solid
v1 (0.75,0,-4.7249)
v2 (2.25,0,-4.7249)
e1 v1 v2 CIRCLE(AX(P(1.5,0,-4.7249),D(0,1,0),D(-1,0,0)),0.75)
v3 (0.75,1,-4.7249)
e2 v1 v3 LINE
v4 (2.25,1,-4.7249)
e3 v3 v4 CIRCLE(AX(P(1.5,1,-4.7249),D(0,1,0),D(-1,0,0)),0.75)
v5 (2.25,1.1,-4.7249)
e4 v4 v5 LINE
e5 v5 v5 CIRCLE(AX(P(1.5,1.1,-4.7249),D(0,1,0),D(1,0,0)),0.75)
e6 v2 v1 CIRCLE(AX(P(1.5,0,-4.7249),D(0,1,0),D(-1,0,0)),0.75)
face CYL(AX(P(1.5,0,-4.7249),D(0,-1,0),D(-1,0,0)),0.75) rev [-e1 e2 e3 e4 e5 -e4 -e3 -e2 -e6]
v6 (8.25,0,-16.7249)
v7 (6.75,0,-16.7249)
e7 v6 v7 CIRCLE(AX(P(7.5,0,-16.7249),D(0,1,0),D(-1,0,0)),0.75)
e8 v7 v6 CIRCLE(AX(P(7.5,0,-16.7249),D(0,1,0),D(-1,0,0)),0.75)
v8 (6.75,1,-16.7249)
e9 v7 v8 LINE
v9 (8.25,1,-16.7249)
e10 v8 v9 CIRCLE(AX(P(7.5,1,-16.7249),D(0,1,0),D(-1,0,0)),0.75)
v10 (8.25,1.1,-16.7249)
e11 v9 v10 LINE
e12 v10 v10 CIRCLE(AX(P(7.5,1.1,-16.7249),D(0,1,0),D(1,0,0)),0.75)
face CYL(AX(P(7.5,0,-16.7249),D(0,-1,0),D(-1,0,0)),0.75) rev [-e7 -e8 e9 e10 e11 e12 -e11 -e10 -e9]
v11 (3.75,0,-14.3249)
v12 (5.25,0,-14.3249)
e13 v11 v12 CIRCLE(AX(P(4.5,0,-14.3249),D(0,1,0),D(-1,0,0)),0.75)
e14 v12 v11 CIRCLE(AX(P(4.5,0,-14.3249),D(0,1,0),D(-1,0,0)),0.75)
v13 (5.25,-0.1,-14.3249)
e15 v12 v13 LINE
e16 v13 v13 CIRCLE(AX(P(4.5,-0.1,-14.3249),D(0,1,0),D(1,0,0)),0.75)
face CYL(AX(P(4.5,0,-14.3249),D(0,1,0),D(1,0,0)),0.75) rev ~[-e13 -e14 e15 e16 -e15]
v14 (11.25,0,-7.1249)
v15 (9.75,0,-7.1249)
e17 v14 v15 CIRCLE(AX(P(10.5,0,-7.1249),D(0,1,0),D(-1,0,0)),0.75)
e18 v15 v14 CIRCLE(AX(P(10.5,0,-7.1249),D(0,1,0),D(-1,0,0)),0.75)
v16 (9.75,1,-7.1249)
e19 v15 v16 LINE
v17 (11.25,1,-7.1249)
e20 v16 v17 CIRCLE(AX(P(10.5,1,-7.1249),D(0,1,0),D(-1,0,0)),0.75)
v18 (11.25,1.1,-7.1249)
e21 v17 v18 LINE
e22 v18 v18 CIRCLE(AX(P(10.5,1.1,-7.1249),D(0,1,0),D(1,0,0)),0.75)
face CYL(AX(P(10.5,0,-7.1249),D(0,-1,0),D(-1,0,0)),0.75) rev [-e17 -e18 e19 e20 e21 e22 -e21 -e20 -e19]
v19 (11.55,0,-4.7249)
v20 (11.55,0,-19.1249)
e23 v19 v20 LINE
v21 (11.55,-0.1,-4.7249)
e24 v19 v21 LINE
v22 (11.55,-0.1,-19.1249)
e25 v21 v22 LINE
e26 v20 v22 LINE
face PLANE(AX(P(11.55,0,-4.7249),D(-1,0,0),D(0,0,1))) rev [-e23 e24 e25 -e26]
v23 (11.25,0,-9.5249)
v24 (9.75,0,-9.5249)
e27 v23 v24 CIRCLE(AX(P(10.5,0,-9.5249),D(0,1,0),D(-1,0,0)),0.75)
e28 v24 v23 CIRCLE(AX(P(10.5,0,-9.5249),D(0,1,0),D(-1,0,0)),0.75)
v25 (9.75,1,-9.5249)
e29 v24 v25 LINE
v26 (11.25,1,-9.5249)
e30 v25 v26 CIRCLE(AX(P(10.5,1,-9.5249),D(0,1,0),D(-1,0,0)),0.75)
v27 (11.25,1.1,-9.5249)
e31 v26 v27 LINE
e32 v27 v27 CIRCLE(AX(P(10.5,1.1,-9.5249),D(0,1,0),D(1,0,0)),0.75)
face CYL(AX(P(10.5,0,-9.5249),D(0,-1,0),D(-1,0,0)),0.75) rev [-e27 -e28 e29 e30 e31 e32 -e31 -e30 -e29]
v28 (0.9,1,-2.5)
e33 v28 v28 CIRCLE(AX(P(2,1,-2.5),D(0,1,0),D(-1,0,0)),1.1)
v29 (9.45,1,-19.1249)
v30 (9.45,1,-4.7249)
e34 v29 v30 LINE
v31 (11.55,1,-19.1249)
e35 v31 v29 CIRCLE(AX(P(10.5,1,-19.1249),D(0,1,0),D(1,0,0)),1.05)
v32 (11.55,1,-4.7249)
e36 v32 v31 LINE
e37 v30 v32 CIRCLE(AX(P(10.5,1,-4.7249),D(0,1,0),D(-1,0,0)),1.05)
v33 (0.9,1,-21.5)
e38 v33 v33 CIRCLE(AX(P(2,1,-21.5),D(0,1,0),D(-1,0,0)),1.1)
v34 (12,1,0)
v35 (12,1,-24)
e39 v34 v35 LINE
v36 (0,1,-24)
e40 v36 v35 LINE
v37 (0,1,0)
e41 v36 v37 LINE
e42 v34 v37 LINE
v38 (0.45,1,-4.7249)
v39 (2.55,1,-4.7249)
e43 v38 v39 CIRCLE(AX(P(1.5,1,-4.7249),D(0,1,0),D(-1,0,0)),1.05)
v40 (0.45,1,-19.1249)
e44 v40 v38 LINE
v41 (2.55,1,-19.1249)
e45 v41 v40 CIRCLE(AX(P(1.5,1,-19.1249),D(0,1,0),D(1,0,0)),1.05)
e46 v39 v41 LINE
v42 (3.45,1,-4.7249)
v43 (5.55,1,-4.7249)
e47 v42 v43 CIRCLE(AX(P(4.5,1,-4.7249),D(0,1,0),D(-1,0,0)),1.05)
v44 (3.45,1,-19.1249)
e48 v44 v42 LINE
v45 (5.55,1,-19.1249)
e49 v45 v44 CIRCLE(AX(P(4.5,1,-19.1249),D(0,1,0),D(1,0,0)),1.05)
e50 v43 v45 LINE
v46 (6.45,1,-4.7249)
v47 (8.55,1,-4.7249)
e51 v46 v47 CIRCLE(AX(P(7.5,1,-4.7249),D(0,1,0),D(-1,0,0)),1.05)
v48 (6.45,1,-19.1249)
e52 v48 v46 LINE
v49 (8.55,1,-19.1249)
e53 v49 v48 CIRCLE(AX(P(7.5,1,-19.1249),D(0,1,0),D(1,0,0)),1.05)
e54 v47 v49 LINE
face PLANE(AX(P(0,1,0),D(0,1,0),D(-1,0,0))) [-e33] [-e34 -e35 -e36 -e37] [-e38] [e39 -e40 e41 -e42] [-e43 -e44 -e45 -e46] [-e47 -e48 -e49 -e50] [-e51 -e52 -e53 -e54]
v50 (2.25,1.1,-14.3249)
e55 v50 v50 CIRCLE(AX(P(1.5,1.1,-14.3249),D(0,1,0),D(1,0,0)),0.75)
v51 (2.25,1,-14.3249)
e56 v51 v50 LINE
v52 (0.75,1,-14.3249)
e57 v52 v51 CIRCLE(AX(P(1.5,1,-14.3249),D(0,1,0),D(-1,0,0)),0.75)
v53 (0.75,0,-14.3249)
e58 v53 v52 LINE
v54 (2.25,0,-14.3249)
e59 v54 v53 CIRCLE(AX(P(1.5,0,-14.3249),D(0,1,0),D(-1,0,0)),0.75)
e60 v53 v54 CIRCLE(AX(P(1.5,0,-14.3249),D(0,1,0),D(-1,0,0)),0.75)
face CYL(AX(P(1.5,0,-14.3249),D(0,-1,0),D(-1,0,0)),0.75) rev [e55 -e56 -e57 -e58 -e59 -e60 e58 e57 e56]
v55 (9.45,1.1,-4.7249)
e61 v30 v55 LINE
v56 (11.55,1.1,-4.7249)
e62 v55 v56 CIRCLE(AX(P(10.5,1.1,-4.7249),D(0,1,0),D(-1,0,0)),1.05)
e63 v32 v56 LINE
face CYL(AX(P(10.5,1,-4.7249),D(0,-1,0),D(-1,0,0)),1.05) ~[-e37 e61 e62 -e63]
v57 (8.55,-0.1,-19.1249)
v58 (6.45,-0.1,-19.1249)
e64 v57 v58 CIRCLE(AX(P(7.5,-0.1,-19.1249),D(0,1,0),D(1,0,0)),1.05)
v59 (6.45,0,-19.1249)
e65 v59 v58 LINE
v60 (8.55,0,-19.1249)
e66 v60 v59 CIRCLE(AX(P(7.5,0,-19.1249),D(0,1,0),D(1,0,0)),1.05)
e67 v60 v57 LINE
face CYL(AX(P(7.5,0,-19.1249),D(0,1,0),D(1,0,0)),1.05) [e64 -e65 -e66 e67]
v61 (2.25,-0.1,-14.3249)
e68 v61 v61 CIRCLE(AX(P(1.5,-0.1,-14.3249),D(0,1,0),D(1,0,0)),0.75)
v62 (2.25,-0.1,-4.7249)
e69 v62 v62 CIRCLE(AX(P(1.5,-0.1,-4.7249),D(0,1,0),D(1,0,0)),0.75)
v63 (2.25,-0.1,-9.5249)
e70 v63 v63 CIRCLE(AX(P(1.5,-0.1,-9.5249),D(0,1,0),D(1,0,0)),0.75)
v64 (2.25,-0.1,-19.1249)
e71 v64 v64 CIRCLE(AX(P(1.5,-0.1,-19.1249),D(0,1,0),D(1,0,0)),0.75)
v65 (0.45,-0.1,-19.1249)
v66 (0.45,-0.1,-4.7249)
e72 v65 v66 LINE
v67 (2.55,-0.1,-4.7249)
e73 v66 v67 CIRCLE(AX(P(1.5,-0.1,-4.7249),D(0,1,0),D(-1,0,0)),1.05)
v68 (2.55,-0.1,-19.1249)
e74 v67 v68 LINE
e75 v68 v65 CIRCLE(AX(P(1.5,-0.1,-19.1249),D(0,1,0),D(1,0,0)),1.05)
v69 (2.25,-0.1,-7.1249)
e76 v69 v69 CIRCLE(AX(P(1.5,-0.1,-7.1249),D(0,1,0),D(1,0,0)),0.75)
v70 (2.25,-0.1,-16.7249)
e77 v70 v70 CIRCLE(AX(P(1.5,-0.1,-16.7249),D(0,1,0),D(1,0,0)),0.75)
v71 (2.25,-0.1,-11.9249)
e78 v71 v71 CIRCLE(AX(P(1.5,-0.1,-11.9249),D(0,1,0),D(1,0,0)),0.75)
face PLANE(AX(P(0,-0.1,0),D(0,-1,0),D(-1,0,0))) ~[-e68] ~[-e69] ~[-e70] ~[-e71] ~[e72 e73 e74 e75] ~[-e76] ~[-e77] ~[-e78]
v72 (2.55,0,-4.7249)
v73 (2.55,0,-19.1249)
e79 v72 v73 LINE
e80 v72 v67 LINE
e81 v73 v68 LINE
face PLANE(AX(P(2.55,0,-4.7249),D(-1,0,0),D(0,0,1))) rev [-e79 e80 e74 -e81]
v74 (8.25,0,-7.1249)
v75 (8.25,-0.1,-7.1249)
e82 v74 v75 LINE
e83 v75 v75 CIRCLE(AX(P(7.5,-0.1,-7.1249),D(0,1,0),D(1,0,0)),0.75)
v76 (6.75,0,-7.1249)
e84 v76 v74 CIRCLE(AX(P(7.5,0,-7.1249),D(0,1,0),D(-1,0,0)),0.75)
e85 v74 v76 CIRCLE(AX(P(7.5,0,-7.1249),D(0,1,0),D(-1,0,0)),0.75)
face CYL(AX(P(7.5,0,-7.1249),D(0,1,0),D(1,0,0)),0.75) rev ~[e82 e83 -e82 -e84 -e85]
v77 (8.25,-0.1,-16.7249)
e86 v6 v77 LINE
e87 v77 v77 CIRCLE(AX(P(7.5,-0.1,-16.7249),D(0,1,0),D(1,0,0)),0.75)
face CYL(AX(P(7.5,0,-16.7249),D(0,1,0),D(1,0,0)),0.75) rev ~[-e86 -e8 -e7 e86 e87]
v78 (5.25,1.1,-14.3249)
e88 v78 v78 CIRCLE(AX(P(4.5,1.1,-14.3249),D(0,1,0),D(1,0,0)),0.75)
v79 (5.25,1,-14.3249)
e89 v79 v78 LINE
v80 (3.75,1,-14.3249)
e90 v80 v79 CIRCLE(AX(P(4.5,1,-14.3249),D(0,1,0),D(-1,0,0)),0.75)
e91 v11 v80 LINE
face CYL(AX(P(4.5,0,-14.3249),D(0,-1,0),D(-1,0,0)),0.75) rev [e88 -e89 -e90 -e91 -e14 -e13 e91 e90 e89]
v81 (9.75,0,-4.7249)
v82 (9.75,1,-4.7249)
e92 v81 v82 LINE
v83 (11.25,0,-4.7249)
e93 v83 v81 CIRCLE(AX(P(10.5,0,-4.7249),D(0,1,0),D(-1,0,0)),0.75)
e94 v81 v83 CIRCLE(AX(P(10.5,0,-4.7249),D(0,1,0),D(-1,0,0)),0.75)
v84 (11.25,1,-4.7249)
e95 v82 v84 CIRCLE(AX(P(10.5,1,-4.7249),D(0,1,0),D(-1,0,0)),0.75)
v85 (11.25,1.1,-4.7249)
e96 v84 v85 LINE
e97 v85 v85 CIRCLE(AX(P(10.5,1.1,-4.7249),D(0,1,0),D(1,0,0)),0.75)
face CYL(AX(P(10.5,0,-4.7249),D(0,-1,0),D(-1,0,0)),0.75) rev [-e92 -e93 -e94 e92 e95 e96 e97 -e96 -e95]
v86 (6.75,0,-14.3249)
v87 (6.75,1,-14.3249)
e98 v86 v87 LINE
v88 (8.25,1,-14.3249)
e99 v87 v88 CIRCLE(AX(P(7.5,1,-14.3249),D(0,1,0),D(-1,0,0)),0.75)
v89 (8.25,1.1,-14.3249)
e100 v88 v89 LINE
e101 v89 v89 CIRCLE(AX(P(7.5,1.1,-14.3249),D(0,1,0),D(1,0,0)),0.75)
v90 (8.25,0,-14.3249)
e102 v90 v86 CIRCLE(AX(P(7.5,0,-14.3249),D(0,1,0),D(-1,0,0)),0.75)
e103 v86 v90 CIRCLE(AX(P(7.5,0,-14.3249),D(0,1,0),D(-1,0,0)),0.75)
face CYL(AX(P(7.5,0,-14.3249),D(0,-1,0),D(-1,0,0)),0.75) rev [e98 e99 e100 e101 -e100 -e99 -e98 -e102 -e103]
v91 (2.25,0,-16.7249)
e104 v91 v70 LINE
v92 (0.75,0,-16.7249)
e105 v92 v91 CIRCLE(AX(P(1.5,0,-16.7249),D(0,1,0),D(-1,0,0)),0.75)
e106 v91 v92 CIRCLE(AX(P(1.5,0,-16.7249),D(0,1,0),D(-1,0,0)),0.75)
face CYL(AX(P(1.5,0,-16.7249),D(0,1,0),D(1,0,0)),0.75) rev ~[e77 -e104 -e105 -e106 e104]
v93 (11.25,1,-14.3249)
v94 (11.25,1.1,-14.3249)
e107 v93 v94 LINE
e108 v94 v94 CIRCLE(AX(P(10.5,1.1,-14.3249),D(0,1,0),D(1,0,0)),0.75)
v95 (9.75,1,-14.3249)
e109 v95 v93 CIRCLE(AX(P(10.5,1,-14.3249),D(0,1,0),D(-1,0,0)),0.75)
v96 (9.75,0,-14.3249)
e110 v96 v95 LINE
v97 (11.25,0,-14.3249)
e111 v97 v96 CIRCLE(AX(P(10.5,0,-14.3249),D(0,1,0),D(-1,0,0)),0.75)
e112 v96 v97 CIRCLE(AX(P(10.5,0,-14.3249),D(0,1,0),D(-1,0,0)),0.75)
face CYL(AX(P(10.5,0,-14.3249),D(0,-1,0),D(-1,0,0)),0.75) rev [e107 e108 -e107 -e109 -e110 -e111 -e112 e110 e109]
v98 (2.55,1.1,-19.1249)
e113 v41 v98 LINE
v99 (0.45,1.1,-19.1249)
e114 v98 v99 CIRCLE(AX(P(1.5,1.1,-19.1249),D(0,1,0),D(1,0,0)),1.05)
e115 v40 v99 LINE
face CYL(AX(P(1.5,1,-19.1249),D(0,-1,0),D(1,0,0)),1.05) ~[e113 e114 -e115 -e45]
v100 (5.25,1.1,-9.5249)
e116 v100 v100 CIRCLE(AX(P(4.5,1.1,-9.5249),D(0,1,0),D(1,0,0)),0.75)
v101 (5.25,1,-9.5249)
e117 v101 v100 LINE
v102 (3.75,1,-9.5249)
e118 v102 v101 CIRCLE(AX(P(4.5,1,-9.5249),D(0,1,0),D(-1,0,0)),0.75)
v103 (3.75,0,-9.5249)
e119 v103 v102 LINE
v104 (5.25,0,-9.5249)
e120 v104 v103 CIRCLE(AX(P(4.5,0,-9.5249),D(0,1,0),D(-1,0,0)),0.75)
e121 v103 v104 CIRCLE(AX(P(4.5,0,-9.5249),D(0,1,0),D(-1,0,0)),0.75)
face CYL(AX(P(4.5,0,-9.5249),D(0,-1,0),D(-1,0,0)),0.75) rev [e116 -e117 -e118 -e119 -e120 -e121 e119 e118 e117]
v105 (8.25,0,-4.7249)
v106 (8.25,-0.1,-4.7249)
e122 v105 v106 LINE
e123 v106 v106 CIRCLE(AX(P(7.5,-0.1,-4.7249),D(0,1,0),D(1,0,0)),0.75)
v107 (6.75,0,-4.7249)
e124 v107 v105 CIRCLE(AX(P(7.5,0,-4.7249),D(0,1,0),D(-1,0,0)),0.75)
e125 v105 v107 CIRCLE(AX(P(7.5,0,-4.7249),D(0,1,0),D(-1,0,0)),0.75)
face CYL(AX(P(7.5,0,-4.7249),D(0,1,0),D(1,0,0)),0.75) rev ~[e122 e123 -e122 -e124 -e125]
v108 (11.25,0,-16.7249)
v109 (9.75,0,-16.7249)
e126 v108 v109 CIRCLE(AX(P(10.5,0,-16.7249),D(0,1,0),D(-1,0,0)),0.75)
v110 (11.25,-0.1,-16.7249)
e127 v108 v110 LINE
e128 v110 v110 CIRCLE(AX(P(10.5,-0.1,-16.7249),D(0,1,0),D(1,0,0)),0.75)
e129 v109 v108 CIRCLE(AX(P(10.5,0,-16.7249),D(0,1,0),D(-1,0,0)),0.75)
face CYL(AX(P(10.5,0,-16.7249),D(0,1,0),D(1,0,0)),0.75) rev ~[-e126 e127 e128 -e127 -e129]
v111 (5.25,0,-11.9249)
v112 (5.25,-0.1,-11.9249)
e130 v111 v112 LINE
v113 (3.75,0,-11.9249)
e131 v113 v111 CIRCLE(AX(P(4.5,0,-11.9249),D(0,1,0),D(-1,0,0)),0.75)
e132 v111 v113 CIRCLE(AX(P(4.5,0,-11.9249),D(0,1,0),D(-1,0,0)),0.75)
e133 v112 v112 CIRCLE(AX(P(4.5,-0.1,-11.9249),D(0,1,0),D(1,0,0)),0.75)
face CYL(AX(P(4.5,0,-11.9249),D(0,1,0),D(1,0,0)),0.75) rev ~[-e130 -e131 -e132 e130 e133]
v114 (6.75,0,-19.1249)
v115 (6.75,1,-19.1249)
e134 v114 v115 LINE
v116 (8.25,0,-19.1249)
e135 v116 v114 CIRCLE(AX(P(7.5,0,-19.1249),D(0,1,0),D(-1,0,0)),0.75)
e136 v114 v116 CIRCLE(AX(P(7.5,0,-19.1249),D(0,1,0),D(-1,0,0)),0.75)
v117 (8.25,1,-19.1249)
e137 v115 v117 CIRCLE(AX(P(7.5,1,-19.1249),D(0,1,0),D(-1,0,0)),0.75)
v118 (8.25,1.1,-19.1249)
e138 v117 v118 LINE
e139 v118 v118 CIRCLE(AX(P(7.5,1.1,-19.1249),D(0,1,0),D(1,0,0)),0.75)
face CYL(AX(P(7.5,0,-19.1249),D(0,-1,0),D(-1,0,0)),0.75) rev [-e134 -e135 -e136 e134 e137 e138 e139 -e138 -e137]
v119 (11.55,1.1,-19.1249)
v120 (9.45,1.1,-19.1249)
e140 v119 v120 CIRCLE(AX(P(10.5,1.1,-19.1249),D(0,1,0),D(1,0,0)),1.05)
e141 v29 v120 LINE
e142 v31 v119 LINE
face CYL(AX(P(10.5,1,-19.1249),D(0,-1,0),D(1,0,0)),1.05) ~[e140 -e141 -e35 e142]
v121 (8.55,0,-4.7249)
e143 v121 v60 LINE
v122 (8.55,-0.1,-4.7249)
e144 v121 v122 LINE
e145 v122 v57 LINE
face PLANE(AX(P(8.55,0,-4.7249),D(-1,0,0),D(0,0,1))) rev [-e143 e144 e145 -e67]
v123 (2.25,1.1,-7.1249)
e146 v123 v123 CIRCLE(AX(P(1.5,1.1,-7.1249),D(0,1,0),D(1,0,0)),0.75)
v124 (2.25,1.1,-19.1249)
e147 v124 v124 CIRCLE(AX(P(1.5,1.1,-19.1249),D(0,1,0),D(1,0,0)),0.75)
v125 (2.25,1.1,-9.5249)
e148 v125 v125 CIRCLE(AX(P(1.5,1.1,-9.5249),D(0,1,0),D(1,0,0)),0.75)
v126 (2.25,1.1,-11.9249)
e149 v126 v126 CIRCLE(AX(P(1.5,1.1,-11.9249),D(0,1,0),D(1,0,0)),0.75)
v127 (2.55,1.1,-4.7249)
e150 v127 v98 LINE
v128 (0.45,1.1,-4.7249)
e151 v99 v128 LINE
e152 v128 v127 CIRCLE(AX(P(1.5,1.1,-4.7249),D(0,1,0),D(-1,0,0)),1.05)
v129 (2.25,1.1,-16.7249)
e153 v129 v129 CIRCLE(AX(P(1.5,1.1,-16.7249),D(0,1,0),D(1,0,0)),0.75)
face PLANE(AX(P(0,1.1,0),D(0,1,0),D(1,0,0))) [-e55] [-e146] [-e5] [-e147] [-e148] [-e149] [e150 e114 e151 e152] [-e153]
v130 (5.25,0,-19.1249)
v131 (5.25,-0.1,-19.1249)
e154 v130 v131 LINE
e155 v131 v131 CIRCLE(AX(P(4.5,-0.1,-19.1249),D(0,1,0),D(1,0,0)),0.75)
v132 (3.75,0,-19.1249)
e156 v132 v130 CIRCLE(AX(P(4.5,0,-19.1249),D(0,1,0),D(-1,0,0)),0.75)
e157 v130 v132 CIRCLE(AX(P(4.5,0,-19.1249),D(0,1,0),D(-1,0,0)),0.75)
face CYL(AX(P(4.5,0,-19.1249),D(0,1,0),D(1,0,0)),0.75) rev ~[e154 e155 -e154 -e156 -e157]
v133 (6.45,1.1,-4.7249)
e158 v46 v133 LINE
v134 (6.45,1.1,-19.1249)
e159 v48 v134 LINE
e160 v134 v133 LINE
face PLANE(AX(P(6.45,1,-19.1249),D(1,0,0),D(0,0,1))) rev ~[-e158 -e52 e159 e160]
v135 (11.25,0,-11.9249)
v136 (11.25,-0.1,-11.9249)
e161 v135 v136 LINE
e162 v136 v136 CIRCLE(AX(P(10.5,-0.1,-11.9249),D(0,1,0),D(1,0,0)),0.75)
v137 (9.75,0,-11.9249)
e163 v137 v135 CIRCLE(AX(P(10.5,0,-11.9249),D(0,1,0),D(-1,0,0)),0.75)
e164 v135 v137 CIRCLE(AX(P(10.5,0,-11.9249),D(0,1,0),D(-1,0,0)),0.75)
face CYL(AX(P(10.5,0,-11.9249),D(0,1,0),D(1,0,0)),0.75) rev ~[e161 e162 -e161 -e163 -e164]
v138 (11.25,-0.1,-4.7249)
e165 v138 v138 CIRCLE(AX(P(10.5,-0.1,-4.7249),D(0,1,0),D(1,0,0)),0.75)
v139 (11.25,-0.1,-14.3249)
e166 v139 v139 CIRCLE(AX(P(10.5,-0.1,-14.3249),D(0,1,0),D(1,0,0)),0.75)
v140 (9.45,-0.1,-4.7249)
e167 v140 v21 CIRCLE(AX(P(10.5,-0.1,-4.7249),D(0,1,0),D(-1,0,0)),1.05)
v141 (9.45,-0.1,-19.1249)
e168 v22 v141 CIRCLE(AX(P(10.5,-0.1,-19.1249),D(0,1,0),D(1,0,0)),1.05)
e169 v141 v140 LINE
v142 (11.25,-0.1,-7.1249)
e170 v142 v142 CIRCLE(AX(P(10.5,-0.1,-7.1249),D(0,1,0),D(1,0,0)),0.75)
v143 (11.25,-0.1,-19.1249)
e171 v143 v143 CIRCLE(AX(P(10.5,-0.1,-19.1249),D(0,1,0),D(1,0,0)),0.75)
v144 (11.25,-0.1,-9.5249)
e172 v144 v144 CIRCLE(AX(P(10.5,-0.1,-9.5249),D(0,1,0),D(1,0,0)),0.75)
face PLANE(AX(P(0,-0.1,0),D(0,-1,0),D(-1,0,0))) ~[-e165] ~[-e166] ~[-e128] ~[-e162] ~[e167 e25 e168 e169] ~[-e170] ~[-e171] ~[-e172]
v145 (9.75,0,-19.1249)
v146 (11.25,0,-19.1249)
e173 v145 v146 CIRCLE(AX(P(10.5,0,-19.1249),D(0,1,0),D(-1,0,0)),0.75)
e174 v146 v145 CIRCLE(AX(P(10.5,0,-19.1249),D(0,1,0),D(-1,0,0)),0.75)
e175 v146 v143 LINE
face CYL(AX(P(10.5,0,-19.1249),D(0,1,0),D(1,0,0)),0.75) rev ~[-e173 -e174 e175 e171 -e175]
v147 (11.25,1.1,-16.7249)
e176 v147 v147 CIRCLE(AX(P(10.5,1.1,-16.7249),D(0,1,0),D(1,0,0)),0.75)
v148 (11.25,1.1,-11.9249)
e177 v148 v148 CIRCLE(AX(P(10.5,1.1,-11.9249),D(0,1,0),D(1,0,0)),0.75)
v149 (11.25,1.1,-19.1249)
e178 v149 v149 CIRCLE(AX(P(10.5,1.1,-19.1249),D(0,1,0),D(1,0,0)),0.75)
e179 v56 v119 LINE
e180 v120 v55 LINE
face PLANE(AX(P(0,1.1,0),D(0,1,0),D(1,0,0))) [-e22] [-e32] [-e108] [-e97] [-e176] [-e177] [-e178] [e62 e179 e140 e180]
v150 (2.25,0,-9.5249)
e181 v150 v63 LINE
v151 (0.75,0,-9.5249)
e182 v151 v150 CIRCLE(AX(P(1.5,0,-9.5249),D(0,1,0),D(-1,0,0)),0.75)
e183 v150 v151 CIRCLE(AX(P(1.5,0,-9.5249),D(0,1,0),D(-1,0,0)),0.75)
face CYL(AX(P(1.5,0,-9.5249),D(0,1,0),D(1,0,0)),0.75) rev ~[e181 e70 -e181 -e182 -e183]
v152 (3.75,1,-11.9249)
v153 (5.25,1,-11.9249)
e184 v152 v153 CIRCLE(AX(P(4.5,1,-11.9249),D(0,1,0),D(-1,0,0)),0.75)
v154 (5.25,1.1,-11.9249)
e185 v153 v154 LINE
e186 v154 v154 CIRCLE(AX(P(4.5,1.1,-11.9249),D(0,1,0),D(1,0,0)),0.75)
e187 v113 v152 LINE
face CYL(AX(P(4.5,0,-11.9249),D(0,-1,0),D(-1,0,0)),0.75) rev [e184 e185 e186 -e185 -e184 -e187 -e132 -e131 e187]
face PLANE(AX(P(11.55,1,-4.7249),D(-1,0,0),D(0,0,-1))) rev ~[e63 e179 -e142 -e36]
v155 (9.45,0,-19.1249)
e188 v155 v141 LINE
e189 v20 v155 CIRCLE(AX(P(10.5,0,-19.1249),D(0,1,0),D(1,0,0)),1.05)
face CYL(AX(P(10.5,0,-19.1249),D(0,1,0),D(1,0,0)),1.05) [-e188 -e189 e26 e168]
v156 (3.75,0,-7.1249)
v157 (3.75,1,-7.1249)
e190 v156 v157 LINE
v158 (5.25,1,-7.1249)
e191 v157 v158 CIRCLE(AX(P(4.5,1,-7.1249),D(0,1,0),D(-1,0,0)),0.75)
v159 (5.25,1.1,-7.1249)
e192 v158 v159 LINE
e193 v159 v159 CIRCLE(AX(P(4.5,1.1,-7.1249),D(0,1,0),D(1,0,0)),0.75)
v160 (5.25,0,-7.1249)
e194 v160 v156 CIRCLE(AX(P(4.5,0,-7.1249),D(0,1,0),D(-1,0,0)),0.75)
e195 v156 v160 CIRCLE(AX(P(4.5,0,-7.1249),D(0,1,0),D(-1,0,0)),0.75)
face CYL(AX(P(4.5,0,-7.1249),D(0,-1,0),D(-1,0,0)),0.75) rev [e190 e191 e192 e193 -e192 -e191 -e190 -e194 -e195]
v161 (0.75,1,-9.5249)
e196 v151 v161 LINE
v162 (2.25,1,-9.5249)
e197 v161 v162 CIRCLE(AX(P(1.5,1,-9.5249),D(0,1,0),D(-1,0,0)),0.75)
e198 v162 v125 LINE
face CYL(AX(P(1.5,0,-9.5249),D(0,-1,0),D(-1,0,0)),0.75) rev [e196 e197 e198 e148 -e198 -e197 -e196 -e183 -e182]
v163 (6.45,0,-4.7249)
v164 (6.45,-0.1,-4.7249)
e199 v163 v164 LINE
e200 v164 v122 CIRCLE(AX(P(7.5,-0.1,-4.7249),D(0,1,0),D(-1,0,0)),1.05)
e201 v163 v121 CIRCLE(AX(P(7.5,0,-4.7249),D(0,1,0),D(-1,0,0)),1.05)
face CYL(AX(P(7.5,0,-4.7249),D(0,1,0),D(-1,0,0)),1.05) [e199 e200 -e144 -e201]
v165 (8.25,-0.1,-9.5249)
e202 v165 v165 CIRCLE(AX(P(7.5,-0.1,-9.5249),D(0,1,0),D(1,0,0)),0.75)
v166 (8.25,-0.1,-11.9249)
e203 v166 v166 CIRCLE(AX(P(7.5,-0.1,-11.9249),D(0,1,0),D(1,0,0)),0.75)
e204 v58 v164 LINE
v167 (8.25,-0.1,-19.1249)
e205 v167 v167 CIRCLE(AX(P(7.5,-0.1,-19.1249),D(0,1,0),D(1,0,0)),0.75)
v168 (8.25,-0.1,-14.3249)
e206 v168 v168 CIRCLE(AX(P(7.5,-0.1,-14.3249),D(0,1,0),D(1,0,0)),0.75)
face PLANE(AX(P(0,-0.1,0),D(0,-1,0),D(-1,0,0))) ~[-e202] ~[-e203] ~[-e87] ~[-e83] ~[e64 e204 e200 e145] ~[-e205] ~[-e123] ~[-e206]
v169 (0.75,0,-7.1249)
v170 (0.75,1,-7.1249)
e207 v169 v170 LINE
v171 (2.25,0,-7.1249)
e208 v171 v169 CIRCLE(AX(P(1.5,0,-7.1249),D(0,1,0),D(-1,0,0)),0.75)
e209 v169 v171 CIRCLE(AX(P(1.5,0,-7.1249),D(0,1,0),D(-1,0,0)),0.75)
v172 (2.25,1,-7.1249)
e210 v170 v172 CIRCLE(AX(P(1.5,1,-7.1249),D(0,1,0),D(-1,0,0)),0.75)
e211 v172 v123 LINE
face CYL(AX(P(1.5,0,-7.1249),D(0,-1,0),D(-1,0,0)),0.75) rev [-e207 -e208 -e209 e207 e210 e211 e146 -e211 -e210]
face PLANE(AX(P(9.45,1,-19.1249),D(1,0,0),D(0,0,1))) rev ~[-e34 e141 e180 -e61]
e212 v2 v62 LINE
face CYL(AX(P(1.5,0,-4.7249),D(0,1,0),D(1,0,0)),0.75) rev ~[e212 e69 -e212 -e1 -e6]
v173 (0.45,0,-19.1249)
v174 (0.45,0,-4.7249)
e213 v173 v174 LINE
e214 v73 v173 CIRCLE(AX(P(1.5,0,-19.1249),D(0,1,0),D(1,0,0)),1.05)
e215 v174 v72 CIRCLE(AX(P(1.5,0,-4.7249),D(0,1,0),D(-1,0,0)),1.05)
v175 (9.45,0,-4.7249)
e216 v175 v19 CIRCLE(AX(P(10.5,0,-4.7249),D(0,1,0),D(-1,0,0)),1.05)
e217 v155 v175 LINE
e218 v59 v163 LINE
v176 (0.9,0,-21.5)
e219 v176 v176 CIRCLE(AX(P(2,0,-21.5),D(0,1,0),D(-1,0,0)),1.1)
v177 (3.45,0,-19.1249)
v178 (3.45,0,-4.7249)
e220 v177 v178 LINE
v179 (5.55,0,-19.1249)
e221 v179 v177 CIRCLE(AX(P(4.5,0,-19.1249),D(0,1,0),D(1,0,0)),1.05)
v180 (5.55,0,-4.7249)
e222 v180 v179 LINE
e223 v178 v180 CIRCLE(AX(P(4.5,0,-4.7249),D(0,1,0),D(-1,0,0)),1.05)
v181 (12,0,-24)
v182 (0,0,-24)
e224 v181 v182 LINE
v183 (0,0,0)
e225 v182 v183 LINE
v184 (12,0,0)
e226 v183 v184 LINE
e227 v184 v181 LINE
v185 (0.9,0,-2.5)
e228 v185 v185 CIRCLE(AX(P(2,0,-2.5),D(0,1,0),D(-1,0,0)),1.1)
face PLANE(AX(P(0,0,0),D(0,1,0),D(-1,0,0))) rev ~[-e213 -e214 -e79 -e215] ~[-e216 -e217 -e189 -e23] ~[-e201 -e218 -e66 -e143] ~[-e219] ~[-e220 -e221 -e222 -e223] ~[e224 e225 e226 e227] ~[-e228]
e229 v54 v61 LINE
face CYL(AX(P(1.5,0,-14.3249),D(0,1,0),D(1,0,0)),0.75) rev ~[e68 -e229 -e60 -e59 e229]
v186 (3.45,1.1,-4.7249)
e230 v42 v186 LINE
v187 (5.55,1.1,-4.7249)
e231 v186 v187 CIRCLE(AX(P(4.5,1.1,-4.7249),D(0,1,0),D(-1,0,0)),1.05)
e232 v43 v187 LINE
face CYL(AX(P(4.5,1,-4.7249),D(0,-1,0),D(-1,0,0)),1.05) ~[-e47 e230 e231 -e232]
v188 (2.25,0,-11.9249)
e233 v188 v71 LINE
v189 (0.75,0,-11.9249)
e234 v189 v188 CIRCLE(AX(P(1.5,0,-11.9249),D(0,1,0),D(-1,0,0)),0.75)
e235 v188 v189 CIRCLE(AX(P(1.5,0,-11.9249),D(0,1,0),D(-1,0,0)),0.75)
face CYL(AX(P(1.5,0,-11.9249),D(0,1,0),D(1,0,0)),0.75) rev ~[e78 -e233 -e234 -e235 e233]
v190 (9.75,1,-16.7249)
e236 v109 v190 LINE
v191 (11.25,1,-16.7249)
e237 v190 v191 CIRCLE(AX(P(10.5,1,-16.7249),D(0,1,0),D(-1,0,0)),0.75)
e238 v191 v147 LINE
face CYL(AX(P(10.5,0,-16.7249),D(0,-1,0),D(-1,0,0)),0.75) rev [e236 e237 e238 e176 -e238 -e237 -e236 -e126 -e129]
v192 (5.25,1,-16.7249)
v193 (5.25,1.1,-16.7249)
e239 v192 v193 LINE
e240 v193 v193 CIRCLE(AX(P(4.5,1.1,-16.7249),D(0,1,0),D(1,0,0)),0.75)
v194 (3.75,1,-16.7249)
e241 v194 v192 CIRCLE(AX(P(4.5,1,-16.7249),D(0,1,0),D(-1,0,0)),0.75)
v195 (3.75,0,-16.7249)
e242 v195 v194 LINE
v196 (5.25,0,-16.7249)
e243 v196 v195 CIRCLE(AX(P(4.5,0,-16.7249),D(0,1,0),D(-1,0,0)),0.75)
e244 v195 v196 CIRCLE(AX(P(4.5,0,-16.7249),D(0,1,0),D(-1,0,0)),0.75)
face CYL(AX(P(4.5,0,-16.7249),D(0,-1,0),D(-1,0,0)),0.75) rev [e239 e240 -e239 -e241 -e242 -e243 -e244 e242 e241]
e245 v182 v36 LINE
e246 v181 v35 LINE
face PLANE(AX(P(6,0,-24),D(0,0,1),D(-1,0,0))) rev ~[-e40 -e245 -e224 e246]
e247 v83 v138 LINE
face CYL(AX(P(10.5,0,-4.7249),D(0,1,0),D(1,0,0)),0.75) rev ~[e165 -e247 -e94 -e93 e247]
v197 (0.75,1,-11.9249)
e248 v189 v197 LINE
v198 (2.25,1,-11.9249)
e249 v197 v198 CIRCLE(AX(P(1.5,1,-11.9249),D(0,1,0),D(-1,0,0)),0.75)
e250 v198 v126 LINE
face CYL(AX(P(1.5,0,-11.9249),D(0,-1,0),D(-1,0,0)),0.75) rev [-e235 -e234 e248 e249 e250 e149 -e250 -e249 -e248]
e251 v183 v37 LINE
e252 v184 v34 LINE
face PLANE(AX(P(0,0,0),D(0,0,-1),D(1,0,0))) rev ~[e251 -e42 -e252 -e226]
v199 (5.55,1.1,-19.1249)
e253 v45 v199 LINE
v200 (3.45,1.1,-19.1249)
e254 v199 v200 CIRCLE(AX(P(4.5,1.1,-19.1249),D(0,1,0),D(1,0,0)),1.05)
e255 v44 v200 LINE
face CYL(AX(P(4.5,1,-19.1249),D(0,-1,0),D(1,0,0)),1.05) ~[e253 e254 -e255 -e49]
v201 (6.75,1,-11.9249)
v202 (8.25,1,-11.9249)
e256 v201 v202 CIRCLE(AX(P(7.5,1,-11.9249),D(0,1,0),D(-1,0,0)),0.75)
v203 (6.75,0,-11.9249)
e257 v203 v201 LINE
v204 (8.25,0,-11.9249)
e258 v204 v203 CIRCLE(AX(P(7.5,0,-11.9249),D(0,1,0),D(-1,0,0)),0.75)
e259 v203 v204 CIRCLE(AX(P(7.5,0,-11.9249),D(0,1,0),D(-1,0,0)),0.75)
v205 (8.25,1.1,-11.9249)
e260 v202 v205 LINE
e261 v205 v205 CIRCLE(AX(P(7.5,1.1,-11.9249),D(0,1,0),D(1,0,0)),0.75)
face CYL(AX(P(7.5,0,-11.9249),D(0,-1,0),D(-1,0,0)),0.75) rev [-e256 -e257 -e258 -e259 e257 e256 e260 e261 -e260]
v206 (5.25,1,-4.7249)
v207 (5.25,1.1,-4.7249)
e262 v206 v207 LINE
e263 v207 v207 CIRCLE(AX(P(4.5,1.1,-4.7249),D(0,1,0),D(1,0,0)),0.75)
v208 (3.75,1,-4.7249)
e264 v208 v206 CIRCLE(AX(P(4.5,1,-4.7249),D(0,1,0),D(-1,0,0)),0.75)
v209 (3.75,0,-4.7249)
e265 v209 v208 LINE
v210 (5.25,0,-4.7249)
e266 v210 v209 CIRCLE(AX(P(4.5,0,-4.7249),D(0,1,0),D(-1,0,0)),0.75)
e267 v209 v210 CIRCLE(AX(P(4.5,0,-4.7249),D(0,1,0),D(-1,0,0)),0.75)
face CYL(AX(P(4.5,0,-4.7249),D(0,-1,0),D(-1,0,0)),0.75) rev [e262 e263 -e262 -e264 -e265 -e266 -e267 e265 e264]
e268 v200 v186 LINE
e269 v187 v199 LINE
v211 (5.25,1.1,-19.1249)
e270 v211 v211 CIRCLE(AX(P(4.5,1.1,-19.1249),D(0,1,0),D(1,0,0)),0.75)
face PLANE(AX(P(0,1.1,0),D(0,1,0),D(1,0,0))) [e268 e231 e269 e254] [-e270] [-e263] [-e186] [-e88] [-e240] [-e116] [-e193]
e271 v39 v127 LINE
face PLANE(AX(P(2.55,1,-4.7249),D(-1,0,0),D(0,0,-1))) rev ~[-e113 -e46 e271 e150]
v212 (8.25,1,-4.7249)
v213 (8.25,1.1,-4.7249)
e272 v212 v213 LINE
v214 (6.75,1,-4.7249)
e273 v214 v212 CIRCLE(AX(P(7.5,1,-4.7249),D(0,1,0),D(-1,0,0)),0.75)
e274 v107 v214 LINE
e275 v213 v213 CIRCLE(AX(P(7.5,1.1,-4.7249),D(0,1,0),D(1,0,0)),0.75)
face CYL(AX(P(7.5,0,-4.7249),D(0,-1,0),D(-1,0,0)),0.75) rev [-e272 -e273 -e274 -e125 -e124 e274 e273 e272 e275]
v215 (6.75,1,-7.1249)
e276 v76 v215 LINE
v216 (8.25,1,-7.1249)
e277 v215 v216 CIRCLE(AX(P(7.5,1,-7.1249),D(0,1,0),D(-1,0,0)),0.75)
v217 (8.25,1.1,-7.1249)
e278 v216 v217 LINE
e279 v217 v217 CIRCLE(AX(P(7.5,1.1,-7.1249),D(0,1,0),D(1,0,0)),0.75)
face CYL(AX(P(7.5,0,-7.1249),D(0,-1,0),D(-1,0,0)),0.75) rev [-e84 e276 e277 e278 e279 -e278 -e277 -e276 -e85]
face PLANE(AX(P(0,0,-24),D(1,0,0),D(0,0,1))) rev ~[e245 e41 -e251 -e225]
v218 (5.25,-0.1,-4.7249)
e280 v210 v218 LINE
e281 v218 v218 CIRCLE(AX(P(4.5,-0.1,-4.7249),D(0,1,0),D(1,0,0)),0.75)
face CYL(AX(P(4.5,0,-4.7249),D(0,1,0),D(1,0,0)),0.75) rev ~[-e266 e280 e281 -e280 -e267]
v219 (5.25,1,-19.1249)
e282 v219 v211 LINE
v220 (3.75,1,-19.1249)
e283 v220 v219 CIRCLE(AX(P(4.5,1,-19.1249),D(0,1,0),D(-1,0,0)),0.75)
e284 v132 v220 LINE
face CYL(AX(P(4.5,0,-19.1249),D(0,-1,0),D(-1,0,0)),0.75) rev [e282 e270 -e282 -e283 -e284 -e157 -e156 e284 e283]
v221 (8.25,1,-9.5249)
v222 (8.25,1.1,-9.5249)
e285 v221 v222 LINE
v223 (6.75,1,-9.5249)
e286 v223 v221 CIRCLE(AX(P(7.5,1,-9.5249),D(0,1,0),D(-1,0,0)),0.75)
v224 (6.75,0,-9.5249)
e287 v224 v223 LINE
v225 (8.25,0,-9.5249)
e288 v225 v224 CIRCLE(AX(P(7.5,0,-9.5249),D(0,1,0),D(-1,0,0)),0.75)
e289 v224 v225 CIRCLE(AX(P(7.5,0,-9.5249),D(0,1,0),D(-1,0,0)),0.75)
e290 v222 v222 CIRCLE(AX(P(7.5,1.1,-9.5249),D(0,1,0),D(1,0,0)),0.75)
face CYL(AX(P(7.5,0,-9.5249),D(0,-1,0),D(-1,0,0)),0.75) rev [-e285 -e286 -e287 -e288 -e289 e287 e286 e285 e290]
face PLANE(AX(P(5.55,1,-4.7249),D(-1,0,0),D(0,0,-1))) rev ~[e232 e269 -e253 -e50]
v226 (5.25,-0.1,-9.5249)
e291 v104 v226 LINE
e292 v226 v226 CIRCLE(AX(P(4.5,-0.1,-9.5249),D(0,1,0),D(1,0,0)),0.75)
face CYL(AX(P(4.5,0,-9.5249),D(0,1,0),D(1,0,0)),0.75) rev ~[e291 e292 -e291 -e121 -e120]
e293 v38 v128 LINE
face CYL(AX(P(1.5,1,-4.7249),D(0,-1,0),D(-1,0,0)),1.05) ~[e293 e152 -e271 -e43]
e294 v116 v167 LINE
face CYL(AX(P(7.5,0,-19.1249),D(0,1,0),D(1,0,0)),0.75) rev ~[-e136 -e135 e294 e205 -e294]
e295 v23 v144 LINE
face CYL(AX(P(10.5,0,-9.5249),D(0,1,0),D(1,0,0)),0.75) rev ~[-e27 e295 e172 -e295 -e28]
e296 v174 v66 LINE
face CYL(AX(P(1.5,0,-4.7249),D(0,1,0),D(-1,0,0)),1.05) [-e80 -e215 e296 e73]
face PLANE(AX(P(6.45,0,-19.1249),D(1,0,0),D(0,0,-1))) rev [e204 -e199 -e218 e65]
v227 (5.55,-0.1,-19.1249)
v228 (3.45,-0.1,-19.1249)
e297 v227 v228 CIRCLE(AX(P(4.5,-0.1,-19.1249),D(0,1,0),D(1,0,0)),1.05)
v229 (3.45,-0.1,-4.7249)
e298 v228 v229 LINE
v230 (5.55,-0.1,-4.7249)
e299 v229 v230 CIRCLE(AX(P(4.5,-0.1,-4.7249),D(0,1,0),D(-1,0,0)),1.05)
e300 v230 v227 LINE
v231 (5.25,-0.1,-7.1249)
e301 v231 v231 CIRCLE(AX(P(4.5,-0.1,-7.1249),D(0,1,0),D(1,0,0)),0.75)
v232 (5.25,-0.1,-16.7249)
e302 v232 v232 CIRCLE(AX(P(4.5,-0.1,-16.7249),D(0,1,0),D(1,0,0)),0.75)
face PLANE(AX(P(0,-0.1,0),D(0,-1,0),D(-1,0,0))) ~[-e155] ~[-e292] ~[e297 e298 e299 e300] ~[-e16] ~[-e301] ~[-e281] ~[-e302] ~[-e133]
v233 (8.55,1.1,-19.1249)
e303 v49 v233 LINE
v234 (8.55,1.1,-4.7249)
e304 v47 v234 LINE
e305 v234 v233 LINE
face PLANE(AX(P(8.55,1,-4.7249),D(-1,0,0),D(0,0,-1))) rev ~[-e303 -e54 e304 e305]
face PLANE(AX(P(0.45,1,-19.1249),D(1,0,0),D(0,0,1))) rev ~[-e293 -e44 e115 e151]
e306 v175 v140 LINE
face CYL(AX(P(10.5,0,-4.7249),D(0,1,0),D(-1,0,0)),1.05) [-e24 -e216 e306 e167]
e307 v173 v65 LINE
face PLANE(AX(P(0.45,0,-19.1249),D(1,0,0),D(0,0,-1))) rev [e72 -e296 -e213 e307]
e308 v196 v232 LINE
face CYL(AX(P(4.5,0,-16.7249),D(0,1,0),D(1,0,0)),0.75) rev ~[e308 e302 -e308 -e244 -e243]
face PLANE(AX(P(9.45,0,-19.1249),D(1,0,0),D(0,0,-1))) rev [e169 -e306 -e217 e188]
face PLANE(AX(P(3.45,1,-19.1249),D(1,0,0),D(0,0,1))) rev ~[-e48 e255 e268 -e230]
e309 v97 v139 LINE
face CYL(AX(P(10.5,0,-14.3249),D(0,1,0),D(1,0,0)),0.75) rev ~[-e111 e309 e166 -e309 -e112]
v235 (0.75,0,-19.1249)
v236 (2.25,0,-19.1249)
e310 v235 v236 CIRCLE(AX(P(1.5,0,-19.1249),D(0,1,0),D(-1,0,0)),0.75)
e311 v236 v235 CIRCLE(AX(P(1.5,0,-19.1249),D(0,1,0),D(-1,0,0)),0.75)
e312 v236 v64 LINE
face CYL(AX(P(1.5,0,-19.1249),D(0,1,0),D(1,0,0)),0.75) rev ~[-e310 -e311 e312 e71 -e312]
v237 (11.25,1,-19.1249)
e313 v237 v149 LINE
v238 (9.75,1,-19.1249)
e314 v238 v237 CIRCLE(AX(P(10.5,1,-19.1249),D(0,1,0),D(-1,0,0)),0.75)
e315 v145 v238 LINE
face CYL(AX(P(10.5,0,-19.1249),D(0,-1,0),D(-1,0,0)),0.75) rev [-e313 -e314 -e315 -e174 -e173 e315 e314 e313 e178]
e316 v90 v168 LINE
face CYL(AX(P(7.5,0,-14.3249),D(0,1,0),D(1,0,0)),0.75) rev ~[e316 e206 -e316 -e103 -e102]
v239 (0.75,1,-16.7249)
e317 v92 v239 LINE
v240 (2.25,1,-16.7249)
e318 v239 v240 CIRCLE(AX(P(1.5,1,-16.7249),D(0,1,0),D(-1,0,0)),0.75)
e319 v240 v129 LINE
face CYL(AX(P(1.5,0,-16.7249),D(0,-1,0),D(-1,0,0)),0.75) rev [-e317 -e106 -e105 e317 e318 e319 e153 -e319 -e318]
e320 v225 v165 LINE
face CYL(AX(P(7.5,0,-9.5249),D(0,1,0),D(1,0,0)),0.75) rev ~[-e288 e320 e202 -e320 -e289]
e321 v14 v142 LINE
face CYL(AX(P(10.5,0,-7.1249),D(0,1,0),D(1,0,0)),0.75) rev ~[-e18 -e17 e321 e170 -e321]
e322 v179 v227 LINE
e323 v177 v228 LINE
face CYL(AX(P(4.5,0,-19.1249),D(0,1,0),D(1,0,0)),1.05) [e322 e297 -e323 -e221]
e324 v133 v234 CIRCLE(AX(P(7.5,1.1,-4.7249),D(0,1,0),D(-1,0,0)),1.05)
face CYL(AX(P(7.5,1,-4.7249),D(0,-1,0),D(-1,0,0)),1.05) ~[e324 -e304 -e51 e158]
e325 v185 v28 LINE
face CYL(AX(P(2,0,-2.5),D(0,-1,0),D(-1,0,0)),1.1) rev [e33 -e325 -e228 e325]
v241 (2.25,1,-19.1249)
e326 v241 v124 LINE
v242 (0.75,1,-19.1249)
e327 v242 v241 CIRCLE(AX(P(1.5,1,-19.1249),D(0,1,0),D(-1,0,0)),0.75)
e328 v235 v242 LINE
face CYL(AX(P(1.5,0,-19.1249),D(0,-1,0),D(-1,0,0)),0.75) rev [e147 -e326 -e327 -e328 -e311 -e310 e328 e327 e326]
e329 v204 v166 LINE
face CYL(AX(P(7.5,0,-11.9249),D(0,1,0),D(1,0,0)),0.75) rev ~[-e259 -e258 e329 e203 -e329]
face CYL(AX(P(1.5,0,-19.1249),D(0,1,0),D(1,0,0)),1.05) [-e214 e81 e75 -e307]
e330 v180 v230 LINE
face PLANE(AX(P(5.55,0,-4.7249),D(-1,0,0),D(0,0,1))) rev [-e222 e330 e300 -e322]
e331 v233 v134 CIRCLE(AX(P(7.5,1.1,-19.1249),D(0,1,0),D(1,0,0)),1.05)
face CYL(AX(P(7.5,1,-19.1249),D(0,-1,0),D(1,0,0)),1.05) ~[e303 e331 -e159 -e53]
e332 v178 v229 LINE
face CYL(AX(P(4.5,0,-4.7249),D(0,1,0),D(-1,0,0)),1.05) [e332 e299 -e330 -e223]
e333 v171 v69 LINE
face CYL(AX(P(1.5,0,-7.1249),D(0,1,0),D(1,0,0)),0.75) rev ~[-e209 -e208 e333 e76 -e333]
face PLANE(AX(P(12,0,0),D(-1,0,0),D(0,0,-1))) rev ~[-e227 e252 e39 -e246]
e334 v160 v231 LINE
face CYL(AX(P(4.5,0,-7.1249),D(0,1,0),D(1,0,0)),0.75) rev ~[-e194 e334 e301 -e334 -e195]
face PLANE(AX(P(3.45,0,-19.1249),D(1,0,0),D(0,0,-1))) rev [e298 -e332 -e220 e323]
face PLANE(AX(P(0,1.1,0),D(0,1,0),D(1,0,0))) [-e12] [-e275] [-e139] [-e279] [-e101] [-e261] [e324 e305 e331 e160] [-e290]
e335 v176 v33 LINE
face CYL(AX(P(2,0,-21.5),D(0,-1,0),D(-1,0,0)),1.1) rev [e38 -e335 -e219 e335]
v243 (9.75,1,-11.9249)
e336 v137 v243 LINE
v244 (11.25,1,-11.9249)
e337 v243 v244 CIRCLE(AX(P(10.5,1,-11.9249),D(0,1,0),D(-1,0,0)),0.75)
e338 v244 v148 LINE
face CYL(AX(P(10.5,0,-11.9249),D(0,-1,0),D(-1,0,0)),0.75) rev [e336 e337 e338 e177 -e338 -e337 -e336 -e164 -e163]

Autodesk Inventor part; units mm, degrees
ref_plane "YZ Plane" through (0, 0, 0) normal (1, 0, 0) x (0, 1, 0)
ref_plane "XZ Plane" through (0, 0, 0) normal (0, 1, 0) x (-1, 0, 0)
sketch "Sketch1" plane through (0, 0, 0) normal (0, 1, 0) x (-1, 0, 0)
  line L0 (0, 0) -> (-12, 0)
  line L1 (-12, 0) -> (-12, -24)
  line L2 (-12, -24) -> (0, -24)
  line L3 (0, -24) -> (0, 0)
  circle A0 centre (-2, -2.5) radius 1.1
  circle A1 centre (-2, -21.5) radius 1.1
  circle A2 centre (-1.5, -4.7249) radius 0.75
  circle A3 centre (-10.5, -4.7249) radius 0.75
  circle A4 centre (-7.5, -4.7249) radius 0.75
  circle A5 centre (-4.5, -4.7249) radius 0.75
  circle A6 centre (-1.5, -7.1249) radius 0.75
  circle A7 centre (-4.5, -7.1249) radius 0.75
  circle A8 centre (-7.5, -7.1249) radius 0.75
  circle A9 centre (-10.5, -7.1249) radius 0.75
  circle A10 centre (-1.5, -9.5249) radius 0.75
  circle A11 centre (-4.5, -9.5249) radius 0.75
  circle A12 centre (-7.5, -9.5249) radius 0.75
  circle A13 centre (-10.5, -9.5249) radius 0.75
  circle A14 centre (-1.5, -11.9249) radius 0.75
  circle A15 centre (-4.5, -11.9249) radius 0.75
  circle A16 centre (-7.5, -11.9249) radius 0.75
  circle A17 centre (-10.5, -11.9249) radius 0.75
  circle A18 centre (-1.5, -14.3249) radius 0.75
  circle A19 centre (-4.5, -14.3249) radius 0.75
  circle A20 centre (-7.5, -14.3249) radius 0.75
  circle A21 centre (-10.5, -14.3249) radius 0.75
  circle A22 centre (-1.5, -16.7249) radius 0.75
  circle A23 centre (-4.5, -16.7249) radius 0.75
  circle A24 centre (-7.5, -16.7249) radius 0.75
  circle A25 centre (-10.5, -16.7249) radius 0.75
  circle A26 centre (-1.5, -19.1249) radius 0.75
  circle A27 centre (-4.5, -19.1249) radius 0.75
  circle A28 centre (-7.5, -19.1249) radius 0.75
  circle A29 centre (-10.5, -19.1249) radius 0.75
  line L4 (-7.5, 0) -> (-7.5, 8.9218)
  line L5 (-6, -24) -> (-6, -34.5946)
  circle A30 centre (-10, -2.5) radius 1.1
  circle A31 centre (-10, -21.5) radius 1.1
  dimension "d0" = 12
  dimension "d1" = 24
  dimension "d2" = 2.2
  dimension "d3" = 2.2
  dimension "d4" = 19
  dimension "d5" = 2.5
  dimension "d7" = 2
  dimension "d8" = 2
  dimension "d9" = 1.5
  dimension "d10" = 1.5
  dimension "d11" = 1.5
  dimension "d12" = 1.5
  dimension "d13" = 1.5
  dimension "d14" = 1.5
  dimension "d15" = 3
  dimension "d16" = 3
  dimension "d19" = 2.4
extrude "Extrusion1" add sketch "Sketch1" along normal blind 1 contours L3 L2 L1 L0 | A30 | A31
sketch "Sketch2" plane through (0, 1, 0) normal (0, 1, 0) x (1, 0, 0)
  line L0 (12, 24) -> (0, 24) projected
  line L1 (0, 24) -> (0, 0) projected
  line L2 (0, 0) -> (12, 0) projected
  line L3 (12, 0) -> (12, 24) projected
  circle A0 centre (10.5, 19.1249) radius 0.75 projected
  circle A1 centre (4.5, 19.1249) radius 0.75 projected
  circle A2 centre (10.5, 16.7249) radius 0.75 projected
  circle A3 centre (4.5, 16.7249) radius 0.75 projected
  circle A4 centre (10.5, 14.3249) radius 0.75 projected
  circle A5 centre (4.5, 14.3249) radius 0.75 projected
  circle A6 centre (10.5, 11.9249) radius 0.75 projected
  circle A7 centre (4.5, 11.9249) radius 0.75 projected
  circle A8 centre (10.5, 9.5249) radius 0.75 projected
  circle A9 centre (4.5, 9.5249) radius 0.75 projected
  circle A10 centre (10.5, 7.1249) radius 0.75 projected
  circle A11 centre (4.5, 7.1249) radius 0.75 projected
  circle A12 centre (1.5, 7.1249) radius 0.75 projected
  circle A13 centre (4.5, 4.7249) radius 0.75 projected
  circle A14 centre (7.5, 4.7249) radius 0.75 projected
  circle A15 centre (10.5, 4.7249) radius 0.75 projected
  circle A16 centre (1.5, 4.7249) radius 0.75 projected
  circle A17 centre (7.5, 7.1249) radius 0.75 projected
  circle A18 centre (1.5, 9.5249) radius 0.75 projected
  circle A19 centre (7.5, 9.5249) radius 0.75 projected
  circle A20 centre (1.5, 11.9249) radius 0.75 projected
  circle A21 centre (7.5, 11.9249) radius 0.75 projected
  circle A22 centre (1.5, 14.3249) radius 0.75 projected
  circle A23 centre (7.5, 14.3249) radius 0.75 projected
  circle A24 centre (1.5, 16.7249) radius 0.75 projected
  circle A25 centre (7.5, 16.7249) radius 0.75 projected
  circle A26 centre (1.5, 19.1249) radius 0.75 projected
  circle A27 centre (7.5, 19.1249) radius 0.75 projected
  circle A28 centre (1.5, 4.7249) radius 0.75 projected
  line L4 (1.5, 4.7249) -> (1.5, 19.1249) construction
  line L5 (2.55, 4.7249) -> (2.55, 19.1249)
  line L6 (0.45, 19.1249) -> (0.45, 4.7249)
  arc A29 (0.45, 4.7249) -> (2.55, 4.7249) centre (1.5, 4.7249) ccw
  arc A30 (2.55, 19.1249) -> (0.45, 19.1249) centre (1.5, 19.1249) ccw
  circle A31 centre (4.5, 4.7249) radius 0.75 projected
  circle A32 centre (4.5, 19.1249) radius 0.75 projected
  line L7 (4.5, 4.7249) -> (4.5, 19.1249) construction
  line L8 (5.55, 4.7249) -> (5.55, 19.1249)
  line L9 (3.45, 19.1249) -> (3.45, 4.7249)
  arc A33 (3.45, 4.7249) -> (5.55, 4.7249) centre (4.5, 4.7249) ccw
  arc A34 (5.55, 19.1249) -> (3.45, 19.1249) centre (4.5, 19.1249) ccw
  line L10 (7.5, 4.7249) -> (7.5, 19.1249) construction
  line L11 (8.55, 4.7249) -> (8.55, 19.1249)
  line L12 (6.45, 19.1249) -> (6.45, 4.7249)
  arc A35 (6.45, 4.7249) -> (8.55, 4.7249) centre (7.5, 4.7249) ccw
  arc A36 (8.55, 19.1249) -> (6.45, 19.1249) centre (7.5, 19.1249) ccw
  circle A37 centre (10.5, 4.7249) radius 0.75 projected
  line L13 (10.5, 4.7249) -> (10.5, 19.1249) construction
  line L14 (11.55, 4.7249) -> (11.55, 19.1249)
  line L15 (9.45, 19.1249) -> (9.45, 4.7249)
  arc A38 (9.45, 4.7249) -> (11.55, 4.7249) centre (10.5, 4.7249) ccw
  arc A39 (11.55, 19.1249) -> (9.45, 19.1249) centre (10.5, 19.1249) ccw
  point P0 (4.5, 11.9249)
  point P1 (7.5, 11.9249)
  point P2 (10.5, 11.9249)
  dimension "d26" = 2.1
  dimension "d27" = 2.1
  dimension "d28" = 2.1
  dimension "d29" = 2.1
extrude "Extrusion2" add sketch "Sketch2" along normal blind 0.1 contours A29 L6 A30 L5 | A33 L9 A34 L8 | A35 L12 A36 L11 | A38 L15 A39 L14
ref_plane "Work Plane1" through (0, 0.5, 0) normal (0, 1, 0) x (1, 0, 0)
mirror "Mirror1" about plane through (0, 0.5, 0) normal (0, 1, 0) of "Extrusion2"
properties part number "PDB"
